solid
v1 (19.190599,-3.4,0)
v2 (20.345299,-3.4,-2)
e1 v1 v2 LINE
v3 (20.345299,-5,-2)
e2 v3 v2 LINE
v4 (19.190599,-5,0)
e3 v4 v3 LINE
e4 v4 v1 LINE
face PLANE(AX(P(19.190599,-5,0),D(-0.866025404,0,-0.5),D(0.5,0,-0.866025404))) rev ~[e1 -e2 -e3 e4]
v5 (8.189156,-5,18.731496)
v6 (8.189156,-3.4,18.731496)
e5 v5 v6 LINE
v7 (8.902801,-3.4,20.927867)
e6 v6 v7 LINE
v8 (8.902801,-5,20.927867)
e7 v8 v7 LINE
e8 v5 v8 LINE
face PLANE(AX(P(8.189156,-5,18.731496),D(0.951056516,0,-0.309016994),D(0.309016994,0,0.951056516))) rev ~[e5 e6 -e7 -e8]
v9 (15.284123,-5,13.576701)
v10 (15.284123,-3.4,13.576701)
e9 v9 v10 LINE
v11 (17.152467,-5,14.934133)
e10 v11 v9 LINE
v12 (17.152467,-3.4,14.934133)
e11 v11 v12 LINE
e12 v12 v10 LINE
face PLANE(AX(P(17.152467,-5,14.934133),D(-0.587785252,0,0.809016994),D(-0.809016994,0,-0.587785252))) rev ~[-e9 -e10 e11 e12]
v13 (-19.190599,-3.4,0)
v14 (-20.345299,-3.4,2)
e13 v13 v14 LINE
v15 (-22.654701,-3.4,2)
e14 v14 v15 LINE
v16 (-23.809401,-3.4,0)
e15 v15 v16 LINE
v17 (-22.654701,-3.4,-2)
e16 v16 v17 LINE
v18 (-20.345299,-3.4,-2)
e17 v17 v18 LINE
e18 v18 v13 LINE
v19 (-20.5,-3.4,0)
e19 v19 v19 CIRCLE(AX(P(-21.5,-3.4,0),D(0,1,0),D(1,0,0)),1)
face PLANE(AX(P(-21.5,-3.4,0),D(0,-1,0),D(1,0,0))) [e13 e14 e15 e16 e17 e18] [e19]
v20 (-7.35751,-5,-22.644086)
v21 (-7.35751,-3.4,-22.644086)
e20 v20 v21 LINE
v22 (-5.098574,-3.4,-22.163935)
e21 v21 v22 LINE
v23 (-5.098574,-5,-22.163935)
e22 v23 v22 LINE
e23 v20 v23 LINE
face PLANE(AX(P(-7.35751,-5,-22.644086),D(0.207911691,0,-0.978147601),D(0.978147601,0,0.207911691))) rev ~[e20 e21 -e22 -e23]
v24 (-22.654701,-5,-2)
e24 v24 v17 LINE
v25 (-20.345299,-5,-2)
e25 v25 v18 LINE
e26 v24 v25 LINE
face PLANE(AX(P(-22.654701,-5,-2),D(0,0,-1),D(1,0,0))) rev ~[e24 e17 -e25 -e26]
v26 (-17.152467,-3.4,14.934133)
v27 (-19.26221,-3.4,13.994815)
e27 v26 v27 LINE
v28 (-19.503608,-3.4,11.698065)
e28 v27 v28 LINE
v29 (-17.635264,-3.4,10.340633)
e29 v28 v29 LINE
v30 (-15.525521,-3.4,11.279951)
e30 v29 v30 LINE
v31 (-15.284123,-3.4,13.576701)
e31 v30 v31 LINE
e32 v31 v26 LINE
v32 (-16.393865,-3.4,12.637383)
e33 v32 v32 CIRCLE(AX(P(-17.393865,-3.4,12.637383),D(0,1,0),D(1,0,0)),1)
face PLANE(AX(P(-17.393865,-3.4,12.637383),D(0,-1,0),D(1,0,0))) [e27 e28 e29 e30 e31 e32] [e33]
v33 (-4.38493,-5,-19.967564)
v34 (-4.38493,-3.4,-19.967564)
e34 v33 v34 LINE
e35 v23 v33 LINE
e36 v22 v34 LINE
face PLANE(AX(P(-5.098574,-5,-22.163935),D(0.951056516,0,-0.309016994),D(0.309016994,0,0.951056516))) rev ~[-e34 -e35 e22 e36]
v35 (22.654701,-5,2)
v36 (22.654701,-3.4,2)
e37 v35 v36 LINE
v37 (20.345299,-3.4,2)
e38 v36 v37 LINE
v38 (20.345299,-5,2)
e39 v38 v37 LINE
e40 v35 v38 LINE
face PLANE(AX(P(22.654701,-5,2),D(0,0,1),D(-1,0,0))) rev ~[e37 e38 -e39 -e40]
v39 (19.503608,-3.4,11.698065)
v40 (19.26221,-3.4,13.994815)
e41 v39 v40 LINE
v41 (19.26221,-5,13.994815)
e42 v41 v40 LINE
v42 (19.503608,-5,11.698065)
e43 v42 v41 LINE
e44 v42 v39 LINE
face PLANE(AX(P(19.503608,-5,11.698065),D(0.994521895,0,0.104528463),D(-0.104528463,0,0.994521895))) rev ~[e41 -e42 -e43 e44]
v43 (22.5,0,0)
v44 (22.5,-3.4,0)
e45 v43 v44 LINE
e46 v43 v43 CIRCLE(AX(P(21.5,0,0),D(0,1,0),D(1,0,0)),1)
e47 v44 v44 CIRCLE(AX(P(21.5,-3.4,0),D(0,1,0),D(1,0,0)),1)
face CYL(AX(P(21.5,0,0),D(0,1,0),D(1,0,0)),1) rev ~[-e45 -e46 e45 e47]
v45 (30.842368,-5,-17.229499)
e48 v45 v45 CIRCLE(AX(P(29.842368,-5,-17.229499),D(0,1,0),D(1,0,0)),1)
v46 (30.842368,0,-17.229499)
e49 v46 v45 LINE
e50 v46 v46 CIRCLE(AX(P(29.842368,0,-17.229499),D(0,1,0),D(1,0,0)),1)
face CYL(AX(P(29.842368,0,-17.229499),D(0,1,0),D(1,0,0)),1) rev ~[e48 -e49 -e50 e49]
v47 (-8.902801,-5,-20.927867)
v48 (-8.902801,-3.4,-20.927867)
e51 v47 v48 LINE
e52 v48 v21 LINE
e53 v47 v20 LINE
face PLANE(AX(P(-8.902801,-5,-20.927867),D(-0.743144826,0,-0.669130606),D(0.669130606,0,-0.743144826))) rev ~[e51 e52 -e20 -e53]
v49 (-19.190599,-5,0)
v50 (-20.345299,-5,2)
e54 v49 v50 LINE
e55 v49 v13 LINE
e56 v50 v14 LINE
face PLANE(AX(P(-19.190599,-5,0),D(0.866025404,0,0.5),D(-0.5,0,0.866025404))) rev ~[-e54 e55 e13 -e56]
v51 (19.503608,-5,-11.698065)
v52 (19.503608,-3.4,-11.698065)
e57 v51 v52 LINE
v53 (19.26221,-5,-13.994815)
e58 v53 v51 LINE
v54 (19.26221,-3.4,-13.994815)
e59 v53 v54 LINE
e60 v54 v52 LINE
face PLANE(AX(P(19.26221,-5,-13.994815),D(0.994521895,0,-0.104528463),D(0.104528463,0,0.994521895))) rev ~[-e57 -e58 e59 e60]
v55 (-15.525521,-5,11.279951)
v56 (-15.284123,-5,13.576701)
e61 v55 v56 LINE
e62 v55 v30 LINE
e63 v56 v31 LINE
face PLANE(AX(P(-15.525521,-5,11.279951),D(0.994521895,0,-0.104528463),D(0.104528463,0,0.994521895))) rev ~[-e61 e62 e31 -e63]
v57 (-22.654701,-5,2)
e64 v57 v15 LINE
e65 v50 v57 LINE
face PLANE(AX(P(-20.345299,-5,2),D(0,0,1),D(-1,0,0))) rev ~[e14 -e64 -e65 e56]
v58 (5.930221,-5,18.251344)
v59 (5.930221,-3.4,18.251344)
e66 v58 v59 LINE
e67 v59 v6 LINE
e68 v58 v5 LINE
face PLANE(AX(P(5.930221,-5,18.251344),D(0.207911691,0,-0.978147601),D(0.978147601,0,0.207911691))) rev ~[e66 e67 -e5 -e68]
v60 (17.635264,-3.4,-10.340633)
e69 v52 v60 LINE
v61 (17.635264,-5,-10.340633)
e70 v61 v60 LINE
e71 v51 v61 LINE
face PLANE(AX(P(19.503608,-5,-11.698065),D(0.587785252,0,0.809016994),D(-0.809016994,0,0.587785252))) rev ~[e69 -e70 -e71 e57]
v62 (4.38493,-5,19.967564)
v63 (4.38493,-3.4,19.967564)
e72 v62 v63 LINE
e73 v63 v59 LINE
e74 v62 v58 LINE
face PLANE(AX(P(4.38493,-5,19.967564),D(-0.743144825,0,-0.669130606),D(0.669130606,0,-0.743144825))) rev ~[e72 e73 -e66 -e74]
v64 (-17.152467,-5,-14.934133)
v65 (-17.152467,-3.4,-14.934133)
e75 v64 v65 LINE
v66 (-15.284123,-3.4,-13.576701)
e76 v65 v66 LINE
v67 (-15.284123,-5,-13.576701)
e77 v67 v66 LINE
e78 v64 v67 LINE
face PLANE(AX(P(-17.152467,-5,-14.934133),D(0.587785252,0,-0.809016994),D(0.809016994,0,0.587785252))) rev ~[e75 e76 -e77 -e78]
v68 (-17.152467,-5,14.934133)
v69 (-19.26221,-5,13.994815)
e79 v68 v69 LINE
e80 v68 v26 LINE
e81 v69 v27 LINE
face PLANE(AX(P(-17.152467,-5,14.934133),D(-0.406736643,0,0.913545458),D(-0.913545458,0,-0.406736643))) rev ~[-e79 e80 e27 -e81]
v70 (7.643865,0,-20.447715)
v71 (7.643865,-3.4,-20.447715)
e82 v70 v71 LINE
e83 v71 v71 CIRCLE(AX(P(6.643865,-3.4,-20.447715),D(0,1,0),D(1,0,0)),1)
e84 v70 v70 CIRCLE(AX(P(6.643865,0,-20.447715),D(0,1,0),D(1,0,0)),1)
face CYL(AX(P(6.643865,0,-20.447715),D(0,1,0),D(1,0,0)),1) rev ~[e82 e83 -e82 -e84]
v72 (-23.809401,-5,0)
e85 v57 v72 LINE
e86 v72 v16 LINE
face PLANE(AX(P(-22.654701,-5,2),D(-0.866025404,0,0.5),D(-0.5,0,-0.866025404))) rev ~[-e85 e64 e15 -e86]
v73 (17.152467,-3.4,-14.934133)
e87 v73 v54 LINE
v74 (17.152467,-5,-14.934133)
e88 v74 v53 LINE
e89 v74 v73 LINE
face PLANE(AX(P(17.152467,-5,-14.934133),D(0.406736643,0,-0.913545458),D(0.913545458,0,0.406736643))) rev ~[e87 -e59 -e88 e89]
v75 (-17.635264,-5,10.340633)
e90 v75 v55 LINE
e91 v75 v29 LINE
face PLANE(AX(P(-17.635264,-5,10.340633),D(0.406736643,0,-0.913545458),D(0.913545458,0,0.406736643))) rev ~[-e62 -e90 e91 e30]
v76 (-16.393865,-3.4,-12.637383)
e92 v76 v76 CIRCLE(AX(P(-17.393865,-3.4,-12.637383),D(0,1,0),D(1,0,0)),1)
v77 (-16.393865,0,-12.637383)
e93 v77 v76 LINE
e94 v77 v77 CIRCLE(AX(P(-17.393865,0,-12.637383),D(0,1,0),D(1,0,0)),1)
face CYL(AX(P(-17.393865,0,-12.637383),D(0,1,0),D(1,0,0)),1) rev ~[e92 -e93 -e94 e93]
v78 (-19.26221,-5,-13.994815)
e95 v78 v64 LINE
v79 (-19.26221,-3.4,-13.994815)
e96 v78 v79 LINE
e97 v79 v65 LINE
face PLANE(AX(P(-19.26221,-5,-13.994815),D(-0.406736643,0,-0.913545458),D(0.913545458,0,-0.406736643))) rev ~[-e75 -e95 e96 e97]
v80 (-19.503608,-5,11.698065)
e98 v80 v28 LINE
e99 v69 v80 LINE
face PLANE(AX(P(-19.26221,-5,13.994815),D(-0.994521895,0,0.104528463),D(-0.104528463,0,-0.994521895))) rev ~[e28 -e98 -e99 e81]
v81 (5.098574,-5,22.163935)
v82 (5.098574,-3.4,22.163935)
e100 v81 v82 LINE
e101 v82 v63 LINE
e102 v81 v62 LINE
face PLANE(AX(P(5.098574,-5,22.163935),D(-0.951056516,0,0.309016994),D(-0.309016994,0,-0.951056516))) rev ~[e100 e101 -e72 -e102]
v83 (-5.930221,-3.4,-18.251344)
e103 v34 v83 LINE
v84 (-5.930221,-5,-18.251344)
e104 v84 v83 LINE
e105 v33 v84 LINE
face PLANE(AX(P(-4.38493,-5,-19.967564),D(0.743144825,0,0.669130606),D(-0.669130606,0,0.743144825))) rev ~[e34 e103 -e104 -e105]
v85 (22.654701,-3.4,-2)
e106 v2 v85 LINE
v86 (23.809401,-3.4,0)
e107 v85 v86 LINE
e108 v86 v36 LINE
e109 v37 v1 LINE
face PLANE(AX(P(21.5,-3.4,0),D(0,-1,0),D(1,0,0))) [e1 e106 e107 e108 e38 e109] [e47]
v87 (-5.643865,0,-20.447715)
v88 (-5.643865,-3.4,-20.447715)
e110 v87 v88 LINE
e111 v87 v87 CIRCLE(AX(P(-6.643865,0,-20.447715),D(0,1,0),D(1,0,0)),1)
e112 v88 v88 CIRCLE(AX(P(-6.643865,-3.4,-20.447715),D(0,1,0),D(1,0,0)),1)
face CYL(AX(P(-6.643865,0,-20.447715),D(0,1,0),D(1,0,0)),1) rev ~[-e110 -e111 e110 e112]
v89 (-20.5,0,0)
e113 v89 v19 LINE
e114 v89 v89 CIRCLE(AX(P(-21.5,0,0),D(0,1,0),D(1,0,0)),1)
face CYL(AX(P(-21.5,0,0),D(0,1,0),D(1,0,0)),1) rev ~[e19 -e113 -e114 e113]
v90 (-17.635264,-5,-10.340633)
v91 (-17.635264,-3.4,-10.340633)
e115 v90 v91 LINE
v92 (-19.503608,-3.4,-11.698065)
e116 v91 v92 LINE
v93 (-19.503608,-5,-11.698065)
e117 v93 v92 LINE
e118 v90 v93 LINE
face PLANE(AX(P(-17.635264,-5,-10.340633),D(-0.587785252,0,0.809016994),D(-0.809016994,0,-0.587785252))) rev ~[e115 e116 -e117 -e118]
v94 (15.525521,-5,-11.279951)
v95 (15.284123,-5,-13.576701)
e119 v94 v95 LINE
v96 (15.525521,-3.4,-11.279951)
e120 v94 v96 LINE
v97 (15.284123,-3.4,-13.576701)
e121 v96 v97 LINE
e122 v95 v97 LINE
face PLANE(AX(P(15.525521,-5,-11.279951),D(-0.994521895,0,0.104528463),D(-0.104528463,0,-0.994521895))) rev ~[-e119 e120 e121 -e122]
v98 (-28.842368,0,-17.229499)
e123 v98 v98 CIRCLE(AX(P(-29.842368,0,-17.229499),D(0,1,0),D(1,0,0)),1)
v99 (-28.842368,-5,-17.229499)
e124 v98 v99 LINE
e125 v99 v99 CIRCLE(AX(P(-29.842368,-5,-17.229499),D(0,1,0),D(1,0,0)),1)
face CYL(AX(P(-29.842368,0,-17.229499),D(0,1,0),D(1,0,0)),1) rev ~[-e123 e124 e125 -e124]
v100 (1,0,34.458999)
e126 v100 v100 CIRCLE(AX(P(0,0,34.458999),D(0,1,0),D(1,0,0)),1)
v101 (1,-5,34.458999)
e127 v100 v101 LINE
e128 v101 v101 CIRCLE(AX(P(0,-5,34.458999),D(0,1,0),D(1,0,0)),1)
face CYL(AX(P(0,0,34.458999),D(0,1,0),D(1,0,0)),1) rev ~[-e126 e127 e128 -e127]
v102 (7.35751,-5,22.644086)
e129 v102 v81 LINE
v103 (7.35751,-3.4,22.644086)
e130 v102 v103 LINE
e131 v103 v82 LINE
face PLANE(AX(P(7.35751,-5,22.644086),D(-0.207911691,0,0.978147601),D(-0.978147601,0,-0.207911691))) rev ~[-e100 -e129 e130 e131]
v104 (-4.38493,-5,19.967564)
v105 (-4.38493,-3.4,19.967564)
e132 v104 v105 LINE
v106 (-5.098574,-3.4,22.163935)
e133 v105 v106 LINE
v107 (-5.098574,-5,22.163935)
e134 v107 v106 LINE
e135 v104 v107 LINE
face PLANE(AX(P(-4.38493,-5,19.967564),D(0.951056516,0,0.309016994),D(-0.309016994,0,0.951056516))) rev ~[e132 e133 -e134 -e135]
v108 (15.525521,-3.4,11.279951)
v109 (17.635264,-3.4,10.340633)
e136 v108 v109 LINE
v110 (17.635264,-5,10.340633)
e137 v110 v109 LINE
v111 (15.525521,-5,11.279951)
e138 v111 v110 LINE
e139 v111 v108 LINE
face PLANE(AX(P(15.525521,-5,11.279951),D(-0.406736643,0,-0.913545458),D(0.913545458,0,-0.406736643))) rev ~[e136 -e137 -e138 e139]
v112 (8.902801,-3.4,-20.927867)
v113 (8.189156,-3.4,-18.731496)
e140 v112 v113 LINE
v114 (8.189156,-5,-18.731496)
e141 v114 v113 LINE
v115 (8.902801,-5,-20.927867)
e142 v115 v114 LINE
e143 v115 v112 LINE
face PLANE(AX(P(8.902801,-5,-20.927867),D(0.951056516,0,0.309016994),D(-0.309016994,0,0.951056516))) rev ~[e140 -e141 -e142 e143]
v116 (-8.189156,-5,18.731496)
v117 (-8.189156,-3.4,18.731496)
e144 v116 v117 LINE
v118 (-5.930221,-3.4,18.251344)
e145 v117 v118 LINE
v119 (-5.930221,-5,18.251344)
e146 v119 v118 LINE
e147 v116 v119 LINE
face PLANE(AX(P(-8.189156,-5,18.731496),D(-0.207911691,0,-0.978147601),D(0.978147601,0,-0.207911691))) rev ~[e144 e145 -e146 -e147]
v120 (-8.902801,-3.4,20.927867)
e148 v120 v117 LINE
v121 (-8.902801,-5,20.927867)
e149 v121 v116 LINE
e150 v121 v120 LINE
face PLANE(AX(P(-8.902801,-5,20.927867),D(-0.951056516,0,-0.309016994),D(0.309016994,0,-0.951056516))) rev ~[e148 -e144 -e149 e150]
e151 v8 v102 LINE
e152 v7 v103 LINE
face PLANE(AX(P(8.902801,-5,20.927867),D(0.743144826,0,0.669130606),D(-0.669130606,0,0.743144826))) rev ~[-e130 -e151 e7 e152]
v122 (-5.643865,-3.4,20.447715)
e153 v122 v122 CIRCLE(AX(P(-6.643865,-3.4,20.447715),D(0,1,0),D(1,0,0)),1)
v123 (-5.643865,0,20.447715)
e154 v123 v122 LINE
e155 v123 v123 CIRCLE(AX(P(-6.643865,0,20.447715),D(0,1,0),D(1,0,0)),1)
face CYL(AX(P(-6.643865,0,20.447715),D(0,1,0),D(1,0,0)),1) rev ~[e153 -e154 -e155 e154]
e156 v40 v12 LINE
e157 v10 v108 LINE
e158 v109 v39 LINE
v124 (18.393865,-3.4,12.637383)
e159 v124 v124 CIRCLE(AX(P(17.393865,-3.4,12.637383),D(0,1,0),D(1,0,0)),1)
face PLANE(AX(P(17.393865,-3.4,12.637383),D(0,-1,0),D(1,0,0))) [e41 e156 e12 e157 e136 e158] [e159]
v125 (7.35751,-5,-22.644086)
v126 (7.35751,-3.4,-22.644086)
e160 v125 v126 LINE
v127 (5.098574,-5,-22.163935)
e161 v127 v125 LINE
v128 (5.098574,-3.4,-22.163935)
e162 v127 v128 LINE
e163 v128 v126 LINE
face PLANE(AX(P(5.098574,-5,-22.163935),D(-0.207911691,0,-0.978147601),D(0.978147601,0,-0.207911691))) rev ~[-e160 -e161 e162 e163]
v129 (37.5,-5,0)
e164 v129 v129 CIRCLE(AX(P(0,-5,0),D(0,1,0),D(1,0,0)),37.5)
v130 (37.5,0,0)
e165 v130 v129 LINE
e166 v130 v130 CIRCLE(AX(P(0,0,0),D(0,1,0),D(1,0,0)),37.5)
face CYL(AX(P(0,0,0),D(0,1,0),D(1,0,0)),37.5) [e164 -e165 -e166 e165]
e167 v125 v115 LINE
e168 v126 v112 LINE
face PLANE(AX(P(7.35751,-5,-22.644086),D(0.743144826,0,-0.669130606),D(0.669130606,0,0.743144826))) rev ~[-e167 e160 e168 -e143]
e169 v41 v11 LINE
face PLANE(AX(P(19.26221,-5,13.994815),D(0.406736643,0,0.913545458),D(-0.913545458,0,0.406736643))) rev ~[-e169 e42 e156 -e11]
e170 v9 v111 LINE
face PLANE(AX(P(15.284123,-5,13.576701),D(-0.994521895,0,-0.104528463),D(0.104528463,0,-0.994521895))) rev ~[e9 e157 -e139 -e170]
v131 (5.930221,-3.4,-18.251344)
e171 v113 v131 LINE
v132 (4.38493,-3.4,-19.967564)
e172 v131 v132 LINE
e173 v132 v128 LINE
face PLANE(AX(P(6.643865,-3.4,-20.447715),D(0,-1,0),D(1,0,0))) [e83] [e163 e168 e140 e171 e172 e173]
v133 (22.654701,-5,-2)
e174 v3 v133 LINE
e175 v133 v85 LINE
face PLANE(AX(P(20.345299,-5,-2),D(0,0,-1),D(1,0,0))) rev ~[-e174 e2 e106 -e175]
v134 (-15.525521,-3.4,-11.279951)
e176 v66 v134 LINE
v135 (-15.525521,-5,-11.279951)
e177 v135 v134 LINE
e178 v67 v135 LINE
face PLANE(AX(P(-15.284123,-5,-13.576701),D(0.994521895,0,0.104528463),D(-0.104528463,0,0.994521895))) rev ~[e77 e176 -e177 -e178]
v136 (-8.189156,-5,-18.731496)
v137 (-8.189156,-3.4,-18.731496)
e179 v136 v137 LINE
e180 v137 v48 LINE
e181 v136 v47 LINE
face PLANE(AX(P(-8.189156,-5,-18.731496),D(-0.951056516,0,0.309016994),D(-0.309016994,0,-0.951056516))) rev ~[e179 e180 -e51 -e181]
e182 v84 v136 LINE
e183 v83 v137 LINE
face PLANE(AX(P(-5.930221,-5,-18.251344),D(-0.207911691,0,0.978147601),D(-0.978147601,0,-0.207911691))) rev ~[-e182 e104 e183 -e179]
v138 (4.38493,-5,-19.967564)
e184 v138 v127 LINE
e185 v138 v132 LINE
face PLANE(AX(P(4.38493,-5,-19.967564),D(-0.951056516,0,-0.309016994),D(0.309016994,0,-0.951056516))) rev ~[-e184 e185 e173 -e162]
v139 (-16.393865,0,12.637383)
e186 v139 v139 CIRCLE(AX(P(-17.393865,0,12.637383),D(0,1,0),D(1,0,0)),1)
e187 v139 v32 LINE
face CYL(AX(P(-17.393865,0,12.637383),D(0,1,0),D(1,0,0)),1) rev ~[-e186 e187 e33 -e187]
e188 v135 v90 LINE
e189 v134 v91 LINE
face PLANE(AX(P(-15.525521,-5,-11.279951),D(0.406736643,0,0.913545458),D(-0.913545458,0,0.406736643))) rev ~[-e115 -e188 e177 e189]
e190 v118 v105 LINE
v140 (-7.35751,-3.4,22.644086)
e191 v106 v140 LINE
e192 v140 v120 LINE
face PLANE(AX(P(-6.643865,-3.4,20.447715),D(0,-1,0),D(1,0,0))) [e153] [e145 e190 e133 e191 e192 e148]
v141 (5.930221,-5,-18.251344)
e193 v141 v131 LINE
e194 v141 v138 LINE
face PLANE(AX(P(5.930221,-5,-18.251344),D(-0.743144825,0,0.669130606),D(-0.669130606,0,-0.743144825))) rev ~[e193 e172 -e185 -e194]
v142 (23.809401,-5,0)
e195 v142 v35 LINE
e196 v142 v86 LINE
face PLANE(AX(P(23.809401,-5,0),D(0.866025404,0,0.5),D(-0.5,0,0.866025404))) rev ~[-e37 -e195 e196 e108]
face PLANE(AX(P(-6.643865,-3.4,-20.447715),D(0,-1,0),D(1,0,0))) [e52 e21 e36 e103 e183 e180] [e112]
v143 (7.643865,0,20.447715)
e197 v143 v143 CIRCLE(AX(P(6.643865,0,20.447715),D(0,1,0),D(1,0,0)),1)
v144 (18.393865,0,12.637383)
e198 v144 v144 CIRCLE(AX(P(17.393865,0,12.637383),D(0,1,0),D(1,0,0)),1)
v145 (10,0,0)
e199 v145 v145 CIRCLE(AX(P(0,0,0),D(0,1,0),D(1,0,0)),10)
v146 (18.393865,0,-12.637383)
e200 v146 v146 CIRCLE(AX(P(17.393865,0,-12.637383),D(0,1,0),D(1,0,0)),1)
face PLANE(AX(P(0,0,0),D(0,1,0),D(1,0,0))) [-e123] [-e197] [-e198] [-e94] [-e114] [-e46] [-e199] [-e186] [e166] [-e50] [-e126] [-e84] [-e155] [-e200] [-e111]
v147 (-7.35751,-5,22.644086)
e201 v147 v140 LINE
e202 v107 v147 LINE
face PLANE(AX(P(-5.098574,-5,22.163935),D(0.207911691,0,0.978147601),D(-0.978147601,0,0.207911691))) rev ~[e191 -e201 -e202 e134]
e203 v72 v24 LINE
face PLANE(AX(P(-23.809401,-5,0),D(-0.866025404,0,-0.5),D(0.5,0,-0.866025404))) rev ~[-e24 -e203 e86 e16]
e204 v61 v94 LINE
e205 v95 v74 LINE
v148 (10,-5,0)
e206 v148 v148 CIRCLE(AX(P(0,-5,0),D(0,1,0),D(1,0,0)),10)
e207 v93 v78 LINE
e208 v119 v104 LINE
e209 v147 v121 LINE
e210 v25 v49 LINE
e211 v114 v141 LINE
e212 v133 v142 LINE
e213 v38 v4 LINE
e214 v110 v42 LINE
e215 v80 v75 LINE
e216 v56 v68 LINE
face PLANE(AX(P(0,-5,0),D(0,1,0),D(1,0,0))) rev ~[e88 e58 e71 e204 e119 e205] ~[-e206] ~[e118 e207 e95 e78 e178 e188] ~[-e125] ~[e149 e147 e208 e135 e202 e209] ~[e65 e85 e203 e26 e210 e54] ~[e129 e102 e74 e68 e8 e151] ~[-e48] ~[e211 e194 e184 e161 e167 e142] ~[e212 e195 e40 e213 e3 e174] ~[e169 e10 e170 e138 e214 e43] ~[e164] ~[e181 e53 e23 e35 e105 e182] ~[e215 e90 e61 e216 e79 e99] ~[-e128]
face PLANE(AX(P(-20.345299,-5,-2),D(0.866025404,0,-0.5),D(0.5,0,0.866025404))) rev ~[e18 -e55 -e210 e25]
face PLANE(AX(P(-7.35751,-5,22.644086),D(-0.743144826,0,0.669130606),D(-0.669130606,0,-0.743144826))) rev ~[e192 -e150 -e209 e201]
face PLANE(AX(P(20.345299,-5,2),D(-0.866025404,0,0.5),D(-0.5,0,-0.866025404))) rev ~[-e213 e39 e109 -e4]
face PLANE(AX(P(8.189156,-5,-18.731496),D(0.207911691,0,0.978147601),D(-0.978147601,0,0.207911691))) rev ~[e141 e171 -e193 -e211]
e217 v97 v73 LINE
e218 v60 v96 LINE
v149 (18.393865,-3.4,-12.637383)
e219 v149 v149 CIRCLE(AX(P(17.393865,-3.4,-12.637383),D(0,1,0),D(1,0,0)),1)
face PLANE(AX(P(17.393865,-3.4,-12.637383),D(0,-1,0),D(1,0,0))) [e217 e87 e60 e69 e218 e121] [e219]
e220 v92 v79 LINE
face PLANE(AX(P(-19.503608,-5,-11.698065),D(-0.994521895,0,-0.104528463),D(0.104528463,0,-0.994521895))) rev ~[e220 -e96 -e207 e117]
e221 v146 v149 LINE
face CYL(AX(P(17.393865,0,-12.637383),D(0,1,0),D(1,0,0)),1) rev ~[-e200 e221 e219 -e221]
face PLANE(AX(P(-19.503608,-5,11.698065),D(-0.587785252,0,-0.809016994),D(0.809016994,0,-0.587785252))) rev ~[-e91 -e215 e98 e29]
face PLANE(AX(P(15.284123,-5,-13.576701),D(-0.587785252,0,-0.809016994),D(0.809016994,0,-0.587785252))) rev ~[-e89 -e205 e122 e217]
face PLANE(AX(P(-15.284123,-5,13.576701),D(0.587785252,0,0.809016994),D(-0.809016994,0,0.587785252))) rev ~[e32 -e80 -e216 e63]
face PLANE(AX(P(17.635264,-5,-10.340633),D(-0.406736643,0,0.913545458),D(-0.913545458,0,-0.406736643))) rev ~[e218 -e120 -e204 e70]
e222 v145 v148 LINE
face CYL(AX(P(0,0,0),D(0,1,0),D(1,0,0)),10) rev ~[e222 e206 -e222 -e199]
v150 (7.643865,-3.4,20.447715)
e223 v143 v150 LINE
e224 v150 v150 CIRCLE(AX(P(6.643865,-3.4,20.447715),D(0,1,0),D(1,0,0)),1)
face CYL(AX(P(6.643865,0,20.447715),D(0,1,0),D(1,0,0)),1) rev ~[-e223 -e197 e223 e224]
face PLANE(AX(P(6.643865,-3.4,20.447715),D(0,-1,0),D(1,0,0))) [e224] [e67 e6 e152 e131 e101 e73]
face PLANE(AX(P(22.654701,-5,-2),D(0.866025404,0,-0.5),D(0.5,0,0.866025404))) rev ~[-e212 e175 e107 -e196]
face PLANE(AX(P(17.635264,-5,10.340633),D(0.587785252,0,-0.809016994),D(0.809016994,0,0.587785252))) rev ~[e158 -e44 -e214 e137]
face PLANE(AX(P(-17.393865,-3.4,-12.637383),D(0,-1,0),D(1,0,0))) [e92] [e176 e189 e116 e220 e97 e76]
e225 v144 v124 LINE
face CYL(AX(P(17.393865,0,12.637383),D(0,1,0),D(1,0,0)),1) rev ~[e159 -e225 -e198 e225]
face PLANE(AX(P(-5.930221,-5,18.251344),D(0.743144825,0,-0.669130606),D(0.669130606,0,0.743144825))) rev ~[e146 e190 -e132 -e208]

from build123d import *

# Parameters (mm, degrees)
SKETCH1_R           = 37.5
BOSS_EXTRUDE1_DEPTH = 5
CUT_EXTRUDE1_REACH  = 7
SKETCH2_R           = 1
CUT_EXTRUDE2_DEPTH  = 1.6
CUT_EXTRUDE3_REACH  = 7
SKETCH6_R           = 10
SKETCH7_R           = 1
CUT_EXTRUDE4_DEPTH  = 5


with BuildPart() as part:
    # Sketch1 → Boss-Extrude1 (new body)
    with BuildSketch(Plane(origin=(0, 0, 0), x_dir=(1, 0, 0), z_dir=(0, 1, 0))):
        Circle(SKETCH1_R)
    extrude(amount=-BOSS_EXTRUDE1_DEPTH)

    # Sketch2 → Cut-Extrude1 (cut, up to next)
    with BuildSketch(Plane(origin=(0, 0, 0), x_dir=(1, 0, 0), z_dir=(0, 1, 0)), mode=Mode.PRIVATE) as cut_extrude1_sk1:
        with Locations((-21.5, 0)):
            Circle(SKETCH2_R)
    cut_extrude1_tool1 = extrude(cut_extrude1_sk1.sketch, amount=-CUT_EXTRUDE1_REACH, mode=Mode.PRIVATE) & part.part
    add(cut_extrude1_tool1.solids().sort_by_distance((-21.5, 0, 0))[0], mode=Mode.SUBTRACT)
    # Sketch2 → Cut-Extrude1 (cut, up to next)
    with BuildSketch(Plane(origin=(0, 0, 0), x_dir=(1, 0, 0), z_dir=(0, 1, 0)), mode=Mode.PRIVATE) as cut_extrude1_sk2:
        with Locations((-17.393865379, 12.637382924)):
            Circle(SKETCH2_R)
    cut_extrude1_tool2 = extrude(cut_extrude1_sk2.sketch, amount=-CUT_EXTRUDE1_REACH, mode=Mode.PRIVATE) & part.part
    add(cut_extrude1_tool2.solids().sort_by_distance((-17.393865, 0, -12.637383))[0], mode=Mode.SUBTRACT)
    # Sketch2 → Cut-Extrude1 (cut, up to next)
    with BuildSketch(Plane(origin=(0, 0, 0), x_dir=(1, 0, 0), z_dir=(0, 1, 0)), mode=Mode.PRIVATE) as cut_extrude1_sk3:
        with Locations((-6.643865379, 20.4477151)):
            Circle(SKETCH2_R)
    cut_extrude1_tool3 = extrude(cut_extrude1_sk3.sketch, amount=-CUT_EXTRUDE1_REACH, mode=Mode.PRIVATE) & part.part
    add(cut_extrude1_tool3.solids().sort_by_distance((-6.643865, 0, -20.447715))[0], mode=Mode.SUBTRACT)
    # Sketch2 → Cut-Extrude1 (cut, up to next)
    with BuildSketch(Plane(origin=(0, 0, 0), x_dir=(1, 0, 0), z_dir=(0, 1, 0)), mode=Mode.PRIVATE) as cut_extrude1_sk4:
        with Locations((6.643865379, 20.4477151)):
            Circle(SKETCH2_R)
    cut_extrude1_tool4 = extrude(cut_extrude1_sk4.sketch, amount=-CUT_EXTRUDE1_REACH, mode=Mode.PRIVATE) & part.part
    add(cut_extrude1_tool4.solids().sort_by_distance((6.643865, 0, -20.447715))[0], mode=Mode.SUBTRACT)
    # Sketch2 → Cut-Extrude1 (cut, up to next)
    with BuildSketch(Plane(origin=(0, 0, 0), x_dir=(1, 0, 0), z_dir=(0, 1, 0)), mode=Mode.PRIVATE) as cut_extrude1_sk5:
        with Locations((17.393865379, 12.637382924)):
            Circle(SKETCH2_R)
    cut_extrude1_tool5 = extrude(cut_extrude1_sk5.sketch, amount=-CUT_EXTRUDE1_REACH, mode=Mode.PRIVATE) & part.part
    add(cut_extrude1_tool5.solids().sort_by_distance((17.393865, 0, -12.637383))[0], mode=Mode.SUBTRACT)
    # Sketch2 → Cut-Extrude1 (cut, up to next)
    with BuildSketch(Plane(origin=(0, 0, 0), x_dir=(1, 0, 0), z_dir=(0, 1, 0)), mode=Mode.PRIVATE) as cut_extrude1_sk6:
        with Locations((21.5, 0)):
            Circle(SKETCH2_R)
    cut_extrude1_tool6 = extrude(cut_extrude1_sk6.sketch, amount=-CUT_EXTRUDE1_REACH, mode=Mode.PRIVATE) & part.part
    add(cut_extrude1_tool6.solids().sort_by_distance((21.5, 0, 0))[0], mode=Mode.SUBTRACT)
    # Sketch2 → Cut-Extrude1 (cut, up to next)
    with BuildSketch(Plane(origin=(0, 0, 0), x_dir=(1, 0, 0), z_dir=(0, 1, 0)), mode=Mode.PRIVATE) as cut_extrude1_sk7:
        with Locations((17.393865379, -12.637382924)):
            Circle(SKETCH2_R)
    cut_extrude1_tool7 = extrude(cut_extrude1_sk7.sketch, amount=-CUT_EXTRUDE1_REACH, mode=Mode.PRIVATE) & part.part
    add(cut_extrude1_tool7.solids().sort_by_distance((17.393865, 0, 12.637383))[0], mode=Mode.SUBTRACT)
    # Sketch2 → Cut-Extrude1 (cut, up to next)
    with BuildSketch(Plane(origin=(0, 0, 0), x_dir=(1, 0, 0), z_dir=(0, 1, 0)), mode=Mode.PRIVATE) as cut_extrude1_sk8:
        with Locations((6.643865379, -20.4477151)):
            Circle(SKETCH2_R)
    cut_extrude1_tool8 = extrude(cut_extrude1_sk8.sketch, amount=-CUT_EXTRUDE1_REACH, mode=Mode.PRIVATE) & part.part
    add(cut_extrude1_tool8.solids().sort_by_distance((6.643865, 0, 20.447715))[0], mode=Mode.SUBTRACT)
    # Sketch2 → Cut-Extrude1 (cut, up to next)
    with BuildSketch(Plane(origin=(0, 0, 0), x_dir=(1, 0, 0), z_dir=(0, 1, 0)), mode=Mode.PRIVATE) as cut_extrude1_sk9:
        with Locations((-6.643865379, -20.4477151)):
            Circle(SKETCH2_R)
    cut_extrude1_tool9 = extrude(cut_extrude1_sk9.sketch, amount=-CUT_EXTRUDE1_REACH, mode=Mode.PRIVATE) & part.part
    add(cut_extrude1_tool9.solids().sort_by_distance((-6.643865, 0, 20.447715))[0], mode=Mode.SUBTRACT)
    # Sketch2 → Cut-Extrude1 (cut, up to next)
    with BuildSketch(Plane(origin=(0, 0, 0), x_dir=(1, 0, 0), z_dir=(0, 1, 0)), mode=Mode.PRIVATE) as cut_extrude1_sk10:
        with Locations((-17.393865379, -12.637382924)):
            Circle(SKETCH2_R)
    cut_extrude1_tool10 = extrude(cut_extrude1_sk10.sketch, amount=-CUT_EXTRUDE1_REACH, mode=Mode.PRIVATE) & part.part
    add(cut_extrude1_tool10.solids().sort_by_distance((-17.393865, 0, 12.637383))[0], mode=Mode.SUBTRACT)

    # Sketch4 → Cut-Extrude2 (cut)
    with BuildSketch(Plane.XZ.offset(5)):
        Polygon((-15.525520661, 11.27995103), (-15.284122516, 13.576700966), (-17.152467233, 14.93413286), (-19.262210097, 13.994814819), (-19.503608243, 11.698064883), (-17.635263525, 10.340632988), align=None)
        Polygon((-19.190598923, 0), (-20.345299462, 2), (-22.654700538, 2), (-23.809401077, 0), (-22.654700538, -2), (-20.345299462, -2), align=None)
        Polygon((-5.9302212, 18.251344158), (-4.384930257, 19.967563618), (-5.098574436, 22.16393456), (-7.357509559, 22.644086043), (-8.902800501, 20.927866583), (-8.189156322, 18.73149564), align=None)
        Polygon((5.9302212, 18.251344158), (8.189156322, 18.73149564), (8.902800501, 20.927866583), (7.357509559, 22.644086043), (5.098574436, 22.16393456), (4.384930257, 19.967563618), align=None)
        Polygon((15.525520661, 11.27995103), (17.635263525, 10.340632988), (19.503608243, 11.698064883), (19.262210097, 13.994814819), (17.152467233, 14.93413286), (15.284122516, 13.576700966), align=None)
        Polygon((19.190598923, 0), (20.345299462, -2), (22.654700538, -2), (23.809401077, 0), (22.654700538, 2), (20.345299462, 2), align=None)
        Polygon((15.525520661, -11.27995103), (15.284122516, -13.576700966), (17.152467233, -14.93413286), (19.262210097, -13.994814819), (19.503608243, -11.698064883), (17.635263525, -10.340632988), align=None)
        Polygon((5.9302212, -18.251344158), (4.384930257, -19.967563618), (5.098574436, -22.16393456), (7.357509559, -22.644086043), (8.902800501, -20.927866583), (8.189156322, -18.73149564), align=None)
        Polygon((-5.9302212, -18.251344158), (-8.189156322, -18.73149564), (-8.902800501, -20.927866583), (-7.357509559, -22.644086043), (-5.098574436, -22.16393456), (-4.384930257, -19.967563618), align=None)
        Polygon((-15.525520661, -11.27995103), (-17.635263525, -10.340632988), (-19.503608243, -11.698064883), (-19.262210097, -13.994814819), (-17.152467233, -14.93413286), (-15.284122516, -13.576700966), align=None)
    extrude(amount=-CUT_EXTRUDE2_DEPTH, mode=Mode.SUBTRACT)

    # Sketch6 → Cut-Extrude3 (cut, up to next)
    with BuildSketch(Plane(origin=(0, 0, 0), x_dir=(1, 0, 0), z_dir=(0, 1, 0)), mode=Mode.PRIVATE) as cut_extrude3_sk1:
        Circle(SKETCH6_R)
    cut_extrude3_tool1 = extrude(cut_extrude3_sk1.sketch, amount=-CUT_EXTRUDE3_REACH, mode=Mode.PRIVATE) & part.part
    add(cut_extrude3_tool1.solids().sort_by_distance((0, 0, 0))[0], mode=Mode.SUBTRACT)

    # Sketch7 → Cut-Extrude4 (cut)
    with BuildSketch(Plane(origin=(0, 0, 0), x_dir=(1, 0, 0), z_dir=(0, 1, 0))):
        with Locations((0, -34.458998708)):
            Circle(SKETCH7_R)
        with Locations((-29.84236827, 17.229499354)):
            Circle(SKETCH7_R)
        with Locations((29.84236827, 17.229499354)):
            Circle(SKETCH7_R)
    extrude(amount=-CUT_EXTRUDE4_DEPTH, mode=Mode.SUBTRACT)


solid = part.part
